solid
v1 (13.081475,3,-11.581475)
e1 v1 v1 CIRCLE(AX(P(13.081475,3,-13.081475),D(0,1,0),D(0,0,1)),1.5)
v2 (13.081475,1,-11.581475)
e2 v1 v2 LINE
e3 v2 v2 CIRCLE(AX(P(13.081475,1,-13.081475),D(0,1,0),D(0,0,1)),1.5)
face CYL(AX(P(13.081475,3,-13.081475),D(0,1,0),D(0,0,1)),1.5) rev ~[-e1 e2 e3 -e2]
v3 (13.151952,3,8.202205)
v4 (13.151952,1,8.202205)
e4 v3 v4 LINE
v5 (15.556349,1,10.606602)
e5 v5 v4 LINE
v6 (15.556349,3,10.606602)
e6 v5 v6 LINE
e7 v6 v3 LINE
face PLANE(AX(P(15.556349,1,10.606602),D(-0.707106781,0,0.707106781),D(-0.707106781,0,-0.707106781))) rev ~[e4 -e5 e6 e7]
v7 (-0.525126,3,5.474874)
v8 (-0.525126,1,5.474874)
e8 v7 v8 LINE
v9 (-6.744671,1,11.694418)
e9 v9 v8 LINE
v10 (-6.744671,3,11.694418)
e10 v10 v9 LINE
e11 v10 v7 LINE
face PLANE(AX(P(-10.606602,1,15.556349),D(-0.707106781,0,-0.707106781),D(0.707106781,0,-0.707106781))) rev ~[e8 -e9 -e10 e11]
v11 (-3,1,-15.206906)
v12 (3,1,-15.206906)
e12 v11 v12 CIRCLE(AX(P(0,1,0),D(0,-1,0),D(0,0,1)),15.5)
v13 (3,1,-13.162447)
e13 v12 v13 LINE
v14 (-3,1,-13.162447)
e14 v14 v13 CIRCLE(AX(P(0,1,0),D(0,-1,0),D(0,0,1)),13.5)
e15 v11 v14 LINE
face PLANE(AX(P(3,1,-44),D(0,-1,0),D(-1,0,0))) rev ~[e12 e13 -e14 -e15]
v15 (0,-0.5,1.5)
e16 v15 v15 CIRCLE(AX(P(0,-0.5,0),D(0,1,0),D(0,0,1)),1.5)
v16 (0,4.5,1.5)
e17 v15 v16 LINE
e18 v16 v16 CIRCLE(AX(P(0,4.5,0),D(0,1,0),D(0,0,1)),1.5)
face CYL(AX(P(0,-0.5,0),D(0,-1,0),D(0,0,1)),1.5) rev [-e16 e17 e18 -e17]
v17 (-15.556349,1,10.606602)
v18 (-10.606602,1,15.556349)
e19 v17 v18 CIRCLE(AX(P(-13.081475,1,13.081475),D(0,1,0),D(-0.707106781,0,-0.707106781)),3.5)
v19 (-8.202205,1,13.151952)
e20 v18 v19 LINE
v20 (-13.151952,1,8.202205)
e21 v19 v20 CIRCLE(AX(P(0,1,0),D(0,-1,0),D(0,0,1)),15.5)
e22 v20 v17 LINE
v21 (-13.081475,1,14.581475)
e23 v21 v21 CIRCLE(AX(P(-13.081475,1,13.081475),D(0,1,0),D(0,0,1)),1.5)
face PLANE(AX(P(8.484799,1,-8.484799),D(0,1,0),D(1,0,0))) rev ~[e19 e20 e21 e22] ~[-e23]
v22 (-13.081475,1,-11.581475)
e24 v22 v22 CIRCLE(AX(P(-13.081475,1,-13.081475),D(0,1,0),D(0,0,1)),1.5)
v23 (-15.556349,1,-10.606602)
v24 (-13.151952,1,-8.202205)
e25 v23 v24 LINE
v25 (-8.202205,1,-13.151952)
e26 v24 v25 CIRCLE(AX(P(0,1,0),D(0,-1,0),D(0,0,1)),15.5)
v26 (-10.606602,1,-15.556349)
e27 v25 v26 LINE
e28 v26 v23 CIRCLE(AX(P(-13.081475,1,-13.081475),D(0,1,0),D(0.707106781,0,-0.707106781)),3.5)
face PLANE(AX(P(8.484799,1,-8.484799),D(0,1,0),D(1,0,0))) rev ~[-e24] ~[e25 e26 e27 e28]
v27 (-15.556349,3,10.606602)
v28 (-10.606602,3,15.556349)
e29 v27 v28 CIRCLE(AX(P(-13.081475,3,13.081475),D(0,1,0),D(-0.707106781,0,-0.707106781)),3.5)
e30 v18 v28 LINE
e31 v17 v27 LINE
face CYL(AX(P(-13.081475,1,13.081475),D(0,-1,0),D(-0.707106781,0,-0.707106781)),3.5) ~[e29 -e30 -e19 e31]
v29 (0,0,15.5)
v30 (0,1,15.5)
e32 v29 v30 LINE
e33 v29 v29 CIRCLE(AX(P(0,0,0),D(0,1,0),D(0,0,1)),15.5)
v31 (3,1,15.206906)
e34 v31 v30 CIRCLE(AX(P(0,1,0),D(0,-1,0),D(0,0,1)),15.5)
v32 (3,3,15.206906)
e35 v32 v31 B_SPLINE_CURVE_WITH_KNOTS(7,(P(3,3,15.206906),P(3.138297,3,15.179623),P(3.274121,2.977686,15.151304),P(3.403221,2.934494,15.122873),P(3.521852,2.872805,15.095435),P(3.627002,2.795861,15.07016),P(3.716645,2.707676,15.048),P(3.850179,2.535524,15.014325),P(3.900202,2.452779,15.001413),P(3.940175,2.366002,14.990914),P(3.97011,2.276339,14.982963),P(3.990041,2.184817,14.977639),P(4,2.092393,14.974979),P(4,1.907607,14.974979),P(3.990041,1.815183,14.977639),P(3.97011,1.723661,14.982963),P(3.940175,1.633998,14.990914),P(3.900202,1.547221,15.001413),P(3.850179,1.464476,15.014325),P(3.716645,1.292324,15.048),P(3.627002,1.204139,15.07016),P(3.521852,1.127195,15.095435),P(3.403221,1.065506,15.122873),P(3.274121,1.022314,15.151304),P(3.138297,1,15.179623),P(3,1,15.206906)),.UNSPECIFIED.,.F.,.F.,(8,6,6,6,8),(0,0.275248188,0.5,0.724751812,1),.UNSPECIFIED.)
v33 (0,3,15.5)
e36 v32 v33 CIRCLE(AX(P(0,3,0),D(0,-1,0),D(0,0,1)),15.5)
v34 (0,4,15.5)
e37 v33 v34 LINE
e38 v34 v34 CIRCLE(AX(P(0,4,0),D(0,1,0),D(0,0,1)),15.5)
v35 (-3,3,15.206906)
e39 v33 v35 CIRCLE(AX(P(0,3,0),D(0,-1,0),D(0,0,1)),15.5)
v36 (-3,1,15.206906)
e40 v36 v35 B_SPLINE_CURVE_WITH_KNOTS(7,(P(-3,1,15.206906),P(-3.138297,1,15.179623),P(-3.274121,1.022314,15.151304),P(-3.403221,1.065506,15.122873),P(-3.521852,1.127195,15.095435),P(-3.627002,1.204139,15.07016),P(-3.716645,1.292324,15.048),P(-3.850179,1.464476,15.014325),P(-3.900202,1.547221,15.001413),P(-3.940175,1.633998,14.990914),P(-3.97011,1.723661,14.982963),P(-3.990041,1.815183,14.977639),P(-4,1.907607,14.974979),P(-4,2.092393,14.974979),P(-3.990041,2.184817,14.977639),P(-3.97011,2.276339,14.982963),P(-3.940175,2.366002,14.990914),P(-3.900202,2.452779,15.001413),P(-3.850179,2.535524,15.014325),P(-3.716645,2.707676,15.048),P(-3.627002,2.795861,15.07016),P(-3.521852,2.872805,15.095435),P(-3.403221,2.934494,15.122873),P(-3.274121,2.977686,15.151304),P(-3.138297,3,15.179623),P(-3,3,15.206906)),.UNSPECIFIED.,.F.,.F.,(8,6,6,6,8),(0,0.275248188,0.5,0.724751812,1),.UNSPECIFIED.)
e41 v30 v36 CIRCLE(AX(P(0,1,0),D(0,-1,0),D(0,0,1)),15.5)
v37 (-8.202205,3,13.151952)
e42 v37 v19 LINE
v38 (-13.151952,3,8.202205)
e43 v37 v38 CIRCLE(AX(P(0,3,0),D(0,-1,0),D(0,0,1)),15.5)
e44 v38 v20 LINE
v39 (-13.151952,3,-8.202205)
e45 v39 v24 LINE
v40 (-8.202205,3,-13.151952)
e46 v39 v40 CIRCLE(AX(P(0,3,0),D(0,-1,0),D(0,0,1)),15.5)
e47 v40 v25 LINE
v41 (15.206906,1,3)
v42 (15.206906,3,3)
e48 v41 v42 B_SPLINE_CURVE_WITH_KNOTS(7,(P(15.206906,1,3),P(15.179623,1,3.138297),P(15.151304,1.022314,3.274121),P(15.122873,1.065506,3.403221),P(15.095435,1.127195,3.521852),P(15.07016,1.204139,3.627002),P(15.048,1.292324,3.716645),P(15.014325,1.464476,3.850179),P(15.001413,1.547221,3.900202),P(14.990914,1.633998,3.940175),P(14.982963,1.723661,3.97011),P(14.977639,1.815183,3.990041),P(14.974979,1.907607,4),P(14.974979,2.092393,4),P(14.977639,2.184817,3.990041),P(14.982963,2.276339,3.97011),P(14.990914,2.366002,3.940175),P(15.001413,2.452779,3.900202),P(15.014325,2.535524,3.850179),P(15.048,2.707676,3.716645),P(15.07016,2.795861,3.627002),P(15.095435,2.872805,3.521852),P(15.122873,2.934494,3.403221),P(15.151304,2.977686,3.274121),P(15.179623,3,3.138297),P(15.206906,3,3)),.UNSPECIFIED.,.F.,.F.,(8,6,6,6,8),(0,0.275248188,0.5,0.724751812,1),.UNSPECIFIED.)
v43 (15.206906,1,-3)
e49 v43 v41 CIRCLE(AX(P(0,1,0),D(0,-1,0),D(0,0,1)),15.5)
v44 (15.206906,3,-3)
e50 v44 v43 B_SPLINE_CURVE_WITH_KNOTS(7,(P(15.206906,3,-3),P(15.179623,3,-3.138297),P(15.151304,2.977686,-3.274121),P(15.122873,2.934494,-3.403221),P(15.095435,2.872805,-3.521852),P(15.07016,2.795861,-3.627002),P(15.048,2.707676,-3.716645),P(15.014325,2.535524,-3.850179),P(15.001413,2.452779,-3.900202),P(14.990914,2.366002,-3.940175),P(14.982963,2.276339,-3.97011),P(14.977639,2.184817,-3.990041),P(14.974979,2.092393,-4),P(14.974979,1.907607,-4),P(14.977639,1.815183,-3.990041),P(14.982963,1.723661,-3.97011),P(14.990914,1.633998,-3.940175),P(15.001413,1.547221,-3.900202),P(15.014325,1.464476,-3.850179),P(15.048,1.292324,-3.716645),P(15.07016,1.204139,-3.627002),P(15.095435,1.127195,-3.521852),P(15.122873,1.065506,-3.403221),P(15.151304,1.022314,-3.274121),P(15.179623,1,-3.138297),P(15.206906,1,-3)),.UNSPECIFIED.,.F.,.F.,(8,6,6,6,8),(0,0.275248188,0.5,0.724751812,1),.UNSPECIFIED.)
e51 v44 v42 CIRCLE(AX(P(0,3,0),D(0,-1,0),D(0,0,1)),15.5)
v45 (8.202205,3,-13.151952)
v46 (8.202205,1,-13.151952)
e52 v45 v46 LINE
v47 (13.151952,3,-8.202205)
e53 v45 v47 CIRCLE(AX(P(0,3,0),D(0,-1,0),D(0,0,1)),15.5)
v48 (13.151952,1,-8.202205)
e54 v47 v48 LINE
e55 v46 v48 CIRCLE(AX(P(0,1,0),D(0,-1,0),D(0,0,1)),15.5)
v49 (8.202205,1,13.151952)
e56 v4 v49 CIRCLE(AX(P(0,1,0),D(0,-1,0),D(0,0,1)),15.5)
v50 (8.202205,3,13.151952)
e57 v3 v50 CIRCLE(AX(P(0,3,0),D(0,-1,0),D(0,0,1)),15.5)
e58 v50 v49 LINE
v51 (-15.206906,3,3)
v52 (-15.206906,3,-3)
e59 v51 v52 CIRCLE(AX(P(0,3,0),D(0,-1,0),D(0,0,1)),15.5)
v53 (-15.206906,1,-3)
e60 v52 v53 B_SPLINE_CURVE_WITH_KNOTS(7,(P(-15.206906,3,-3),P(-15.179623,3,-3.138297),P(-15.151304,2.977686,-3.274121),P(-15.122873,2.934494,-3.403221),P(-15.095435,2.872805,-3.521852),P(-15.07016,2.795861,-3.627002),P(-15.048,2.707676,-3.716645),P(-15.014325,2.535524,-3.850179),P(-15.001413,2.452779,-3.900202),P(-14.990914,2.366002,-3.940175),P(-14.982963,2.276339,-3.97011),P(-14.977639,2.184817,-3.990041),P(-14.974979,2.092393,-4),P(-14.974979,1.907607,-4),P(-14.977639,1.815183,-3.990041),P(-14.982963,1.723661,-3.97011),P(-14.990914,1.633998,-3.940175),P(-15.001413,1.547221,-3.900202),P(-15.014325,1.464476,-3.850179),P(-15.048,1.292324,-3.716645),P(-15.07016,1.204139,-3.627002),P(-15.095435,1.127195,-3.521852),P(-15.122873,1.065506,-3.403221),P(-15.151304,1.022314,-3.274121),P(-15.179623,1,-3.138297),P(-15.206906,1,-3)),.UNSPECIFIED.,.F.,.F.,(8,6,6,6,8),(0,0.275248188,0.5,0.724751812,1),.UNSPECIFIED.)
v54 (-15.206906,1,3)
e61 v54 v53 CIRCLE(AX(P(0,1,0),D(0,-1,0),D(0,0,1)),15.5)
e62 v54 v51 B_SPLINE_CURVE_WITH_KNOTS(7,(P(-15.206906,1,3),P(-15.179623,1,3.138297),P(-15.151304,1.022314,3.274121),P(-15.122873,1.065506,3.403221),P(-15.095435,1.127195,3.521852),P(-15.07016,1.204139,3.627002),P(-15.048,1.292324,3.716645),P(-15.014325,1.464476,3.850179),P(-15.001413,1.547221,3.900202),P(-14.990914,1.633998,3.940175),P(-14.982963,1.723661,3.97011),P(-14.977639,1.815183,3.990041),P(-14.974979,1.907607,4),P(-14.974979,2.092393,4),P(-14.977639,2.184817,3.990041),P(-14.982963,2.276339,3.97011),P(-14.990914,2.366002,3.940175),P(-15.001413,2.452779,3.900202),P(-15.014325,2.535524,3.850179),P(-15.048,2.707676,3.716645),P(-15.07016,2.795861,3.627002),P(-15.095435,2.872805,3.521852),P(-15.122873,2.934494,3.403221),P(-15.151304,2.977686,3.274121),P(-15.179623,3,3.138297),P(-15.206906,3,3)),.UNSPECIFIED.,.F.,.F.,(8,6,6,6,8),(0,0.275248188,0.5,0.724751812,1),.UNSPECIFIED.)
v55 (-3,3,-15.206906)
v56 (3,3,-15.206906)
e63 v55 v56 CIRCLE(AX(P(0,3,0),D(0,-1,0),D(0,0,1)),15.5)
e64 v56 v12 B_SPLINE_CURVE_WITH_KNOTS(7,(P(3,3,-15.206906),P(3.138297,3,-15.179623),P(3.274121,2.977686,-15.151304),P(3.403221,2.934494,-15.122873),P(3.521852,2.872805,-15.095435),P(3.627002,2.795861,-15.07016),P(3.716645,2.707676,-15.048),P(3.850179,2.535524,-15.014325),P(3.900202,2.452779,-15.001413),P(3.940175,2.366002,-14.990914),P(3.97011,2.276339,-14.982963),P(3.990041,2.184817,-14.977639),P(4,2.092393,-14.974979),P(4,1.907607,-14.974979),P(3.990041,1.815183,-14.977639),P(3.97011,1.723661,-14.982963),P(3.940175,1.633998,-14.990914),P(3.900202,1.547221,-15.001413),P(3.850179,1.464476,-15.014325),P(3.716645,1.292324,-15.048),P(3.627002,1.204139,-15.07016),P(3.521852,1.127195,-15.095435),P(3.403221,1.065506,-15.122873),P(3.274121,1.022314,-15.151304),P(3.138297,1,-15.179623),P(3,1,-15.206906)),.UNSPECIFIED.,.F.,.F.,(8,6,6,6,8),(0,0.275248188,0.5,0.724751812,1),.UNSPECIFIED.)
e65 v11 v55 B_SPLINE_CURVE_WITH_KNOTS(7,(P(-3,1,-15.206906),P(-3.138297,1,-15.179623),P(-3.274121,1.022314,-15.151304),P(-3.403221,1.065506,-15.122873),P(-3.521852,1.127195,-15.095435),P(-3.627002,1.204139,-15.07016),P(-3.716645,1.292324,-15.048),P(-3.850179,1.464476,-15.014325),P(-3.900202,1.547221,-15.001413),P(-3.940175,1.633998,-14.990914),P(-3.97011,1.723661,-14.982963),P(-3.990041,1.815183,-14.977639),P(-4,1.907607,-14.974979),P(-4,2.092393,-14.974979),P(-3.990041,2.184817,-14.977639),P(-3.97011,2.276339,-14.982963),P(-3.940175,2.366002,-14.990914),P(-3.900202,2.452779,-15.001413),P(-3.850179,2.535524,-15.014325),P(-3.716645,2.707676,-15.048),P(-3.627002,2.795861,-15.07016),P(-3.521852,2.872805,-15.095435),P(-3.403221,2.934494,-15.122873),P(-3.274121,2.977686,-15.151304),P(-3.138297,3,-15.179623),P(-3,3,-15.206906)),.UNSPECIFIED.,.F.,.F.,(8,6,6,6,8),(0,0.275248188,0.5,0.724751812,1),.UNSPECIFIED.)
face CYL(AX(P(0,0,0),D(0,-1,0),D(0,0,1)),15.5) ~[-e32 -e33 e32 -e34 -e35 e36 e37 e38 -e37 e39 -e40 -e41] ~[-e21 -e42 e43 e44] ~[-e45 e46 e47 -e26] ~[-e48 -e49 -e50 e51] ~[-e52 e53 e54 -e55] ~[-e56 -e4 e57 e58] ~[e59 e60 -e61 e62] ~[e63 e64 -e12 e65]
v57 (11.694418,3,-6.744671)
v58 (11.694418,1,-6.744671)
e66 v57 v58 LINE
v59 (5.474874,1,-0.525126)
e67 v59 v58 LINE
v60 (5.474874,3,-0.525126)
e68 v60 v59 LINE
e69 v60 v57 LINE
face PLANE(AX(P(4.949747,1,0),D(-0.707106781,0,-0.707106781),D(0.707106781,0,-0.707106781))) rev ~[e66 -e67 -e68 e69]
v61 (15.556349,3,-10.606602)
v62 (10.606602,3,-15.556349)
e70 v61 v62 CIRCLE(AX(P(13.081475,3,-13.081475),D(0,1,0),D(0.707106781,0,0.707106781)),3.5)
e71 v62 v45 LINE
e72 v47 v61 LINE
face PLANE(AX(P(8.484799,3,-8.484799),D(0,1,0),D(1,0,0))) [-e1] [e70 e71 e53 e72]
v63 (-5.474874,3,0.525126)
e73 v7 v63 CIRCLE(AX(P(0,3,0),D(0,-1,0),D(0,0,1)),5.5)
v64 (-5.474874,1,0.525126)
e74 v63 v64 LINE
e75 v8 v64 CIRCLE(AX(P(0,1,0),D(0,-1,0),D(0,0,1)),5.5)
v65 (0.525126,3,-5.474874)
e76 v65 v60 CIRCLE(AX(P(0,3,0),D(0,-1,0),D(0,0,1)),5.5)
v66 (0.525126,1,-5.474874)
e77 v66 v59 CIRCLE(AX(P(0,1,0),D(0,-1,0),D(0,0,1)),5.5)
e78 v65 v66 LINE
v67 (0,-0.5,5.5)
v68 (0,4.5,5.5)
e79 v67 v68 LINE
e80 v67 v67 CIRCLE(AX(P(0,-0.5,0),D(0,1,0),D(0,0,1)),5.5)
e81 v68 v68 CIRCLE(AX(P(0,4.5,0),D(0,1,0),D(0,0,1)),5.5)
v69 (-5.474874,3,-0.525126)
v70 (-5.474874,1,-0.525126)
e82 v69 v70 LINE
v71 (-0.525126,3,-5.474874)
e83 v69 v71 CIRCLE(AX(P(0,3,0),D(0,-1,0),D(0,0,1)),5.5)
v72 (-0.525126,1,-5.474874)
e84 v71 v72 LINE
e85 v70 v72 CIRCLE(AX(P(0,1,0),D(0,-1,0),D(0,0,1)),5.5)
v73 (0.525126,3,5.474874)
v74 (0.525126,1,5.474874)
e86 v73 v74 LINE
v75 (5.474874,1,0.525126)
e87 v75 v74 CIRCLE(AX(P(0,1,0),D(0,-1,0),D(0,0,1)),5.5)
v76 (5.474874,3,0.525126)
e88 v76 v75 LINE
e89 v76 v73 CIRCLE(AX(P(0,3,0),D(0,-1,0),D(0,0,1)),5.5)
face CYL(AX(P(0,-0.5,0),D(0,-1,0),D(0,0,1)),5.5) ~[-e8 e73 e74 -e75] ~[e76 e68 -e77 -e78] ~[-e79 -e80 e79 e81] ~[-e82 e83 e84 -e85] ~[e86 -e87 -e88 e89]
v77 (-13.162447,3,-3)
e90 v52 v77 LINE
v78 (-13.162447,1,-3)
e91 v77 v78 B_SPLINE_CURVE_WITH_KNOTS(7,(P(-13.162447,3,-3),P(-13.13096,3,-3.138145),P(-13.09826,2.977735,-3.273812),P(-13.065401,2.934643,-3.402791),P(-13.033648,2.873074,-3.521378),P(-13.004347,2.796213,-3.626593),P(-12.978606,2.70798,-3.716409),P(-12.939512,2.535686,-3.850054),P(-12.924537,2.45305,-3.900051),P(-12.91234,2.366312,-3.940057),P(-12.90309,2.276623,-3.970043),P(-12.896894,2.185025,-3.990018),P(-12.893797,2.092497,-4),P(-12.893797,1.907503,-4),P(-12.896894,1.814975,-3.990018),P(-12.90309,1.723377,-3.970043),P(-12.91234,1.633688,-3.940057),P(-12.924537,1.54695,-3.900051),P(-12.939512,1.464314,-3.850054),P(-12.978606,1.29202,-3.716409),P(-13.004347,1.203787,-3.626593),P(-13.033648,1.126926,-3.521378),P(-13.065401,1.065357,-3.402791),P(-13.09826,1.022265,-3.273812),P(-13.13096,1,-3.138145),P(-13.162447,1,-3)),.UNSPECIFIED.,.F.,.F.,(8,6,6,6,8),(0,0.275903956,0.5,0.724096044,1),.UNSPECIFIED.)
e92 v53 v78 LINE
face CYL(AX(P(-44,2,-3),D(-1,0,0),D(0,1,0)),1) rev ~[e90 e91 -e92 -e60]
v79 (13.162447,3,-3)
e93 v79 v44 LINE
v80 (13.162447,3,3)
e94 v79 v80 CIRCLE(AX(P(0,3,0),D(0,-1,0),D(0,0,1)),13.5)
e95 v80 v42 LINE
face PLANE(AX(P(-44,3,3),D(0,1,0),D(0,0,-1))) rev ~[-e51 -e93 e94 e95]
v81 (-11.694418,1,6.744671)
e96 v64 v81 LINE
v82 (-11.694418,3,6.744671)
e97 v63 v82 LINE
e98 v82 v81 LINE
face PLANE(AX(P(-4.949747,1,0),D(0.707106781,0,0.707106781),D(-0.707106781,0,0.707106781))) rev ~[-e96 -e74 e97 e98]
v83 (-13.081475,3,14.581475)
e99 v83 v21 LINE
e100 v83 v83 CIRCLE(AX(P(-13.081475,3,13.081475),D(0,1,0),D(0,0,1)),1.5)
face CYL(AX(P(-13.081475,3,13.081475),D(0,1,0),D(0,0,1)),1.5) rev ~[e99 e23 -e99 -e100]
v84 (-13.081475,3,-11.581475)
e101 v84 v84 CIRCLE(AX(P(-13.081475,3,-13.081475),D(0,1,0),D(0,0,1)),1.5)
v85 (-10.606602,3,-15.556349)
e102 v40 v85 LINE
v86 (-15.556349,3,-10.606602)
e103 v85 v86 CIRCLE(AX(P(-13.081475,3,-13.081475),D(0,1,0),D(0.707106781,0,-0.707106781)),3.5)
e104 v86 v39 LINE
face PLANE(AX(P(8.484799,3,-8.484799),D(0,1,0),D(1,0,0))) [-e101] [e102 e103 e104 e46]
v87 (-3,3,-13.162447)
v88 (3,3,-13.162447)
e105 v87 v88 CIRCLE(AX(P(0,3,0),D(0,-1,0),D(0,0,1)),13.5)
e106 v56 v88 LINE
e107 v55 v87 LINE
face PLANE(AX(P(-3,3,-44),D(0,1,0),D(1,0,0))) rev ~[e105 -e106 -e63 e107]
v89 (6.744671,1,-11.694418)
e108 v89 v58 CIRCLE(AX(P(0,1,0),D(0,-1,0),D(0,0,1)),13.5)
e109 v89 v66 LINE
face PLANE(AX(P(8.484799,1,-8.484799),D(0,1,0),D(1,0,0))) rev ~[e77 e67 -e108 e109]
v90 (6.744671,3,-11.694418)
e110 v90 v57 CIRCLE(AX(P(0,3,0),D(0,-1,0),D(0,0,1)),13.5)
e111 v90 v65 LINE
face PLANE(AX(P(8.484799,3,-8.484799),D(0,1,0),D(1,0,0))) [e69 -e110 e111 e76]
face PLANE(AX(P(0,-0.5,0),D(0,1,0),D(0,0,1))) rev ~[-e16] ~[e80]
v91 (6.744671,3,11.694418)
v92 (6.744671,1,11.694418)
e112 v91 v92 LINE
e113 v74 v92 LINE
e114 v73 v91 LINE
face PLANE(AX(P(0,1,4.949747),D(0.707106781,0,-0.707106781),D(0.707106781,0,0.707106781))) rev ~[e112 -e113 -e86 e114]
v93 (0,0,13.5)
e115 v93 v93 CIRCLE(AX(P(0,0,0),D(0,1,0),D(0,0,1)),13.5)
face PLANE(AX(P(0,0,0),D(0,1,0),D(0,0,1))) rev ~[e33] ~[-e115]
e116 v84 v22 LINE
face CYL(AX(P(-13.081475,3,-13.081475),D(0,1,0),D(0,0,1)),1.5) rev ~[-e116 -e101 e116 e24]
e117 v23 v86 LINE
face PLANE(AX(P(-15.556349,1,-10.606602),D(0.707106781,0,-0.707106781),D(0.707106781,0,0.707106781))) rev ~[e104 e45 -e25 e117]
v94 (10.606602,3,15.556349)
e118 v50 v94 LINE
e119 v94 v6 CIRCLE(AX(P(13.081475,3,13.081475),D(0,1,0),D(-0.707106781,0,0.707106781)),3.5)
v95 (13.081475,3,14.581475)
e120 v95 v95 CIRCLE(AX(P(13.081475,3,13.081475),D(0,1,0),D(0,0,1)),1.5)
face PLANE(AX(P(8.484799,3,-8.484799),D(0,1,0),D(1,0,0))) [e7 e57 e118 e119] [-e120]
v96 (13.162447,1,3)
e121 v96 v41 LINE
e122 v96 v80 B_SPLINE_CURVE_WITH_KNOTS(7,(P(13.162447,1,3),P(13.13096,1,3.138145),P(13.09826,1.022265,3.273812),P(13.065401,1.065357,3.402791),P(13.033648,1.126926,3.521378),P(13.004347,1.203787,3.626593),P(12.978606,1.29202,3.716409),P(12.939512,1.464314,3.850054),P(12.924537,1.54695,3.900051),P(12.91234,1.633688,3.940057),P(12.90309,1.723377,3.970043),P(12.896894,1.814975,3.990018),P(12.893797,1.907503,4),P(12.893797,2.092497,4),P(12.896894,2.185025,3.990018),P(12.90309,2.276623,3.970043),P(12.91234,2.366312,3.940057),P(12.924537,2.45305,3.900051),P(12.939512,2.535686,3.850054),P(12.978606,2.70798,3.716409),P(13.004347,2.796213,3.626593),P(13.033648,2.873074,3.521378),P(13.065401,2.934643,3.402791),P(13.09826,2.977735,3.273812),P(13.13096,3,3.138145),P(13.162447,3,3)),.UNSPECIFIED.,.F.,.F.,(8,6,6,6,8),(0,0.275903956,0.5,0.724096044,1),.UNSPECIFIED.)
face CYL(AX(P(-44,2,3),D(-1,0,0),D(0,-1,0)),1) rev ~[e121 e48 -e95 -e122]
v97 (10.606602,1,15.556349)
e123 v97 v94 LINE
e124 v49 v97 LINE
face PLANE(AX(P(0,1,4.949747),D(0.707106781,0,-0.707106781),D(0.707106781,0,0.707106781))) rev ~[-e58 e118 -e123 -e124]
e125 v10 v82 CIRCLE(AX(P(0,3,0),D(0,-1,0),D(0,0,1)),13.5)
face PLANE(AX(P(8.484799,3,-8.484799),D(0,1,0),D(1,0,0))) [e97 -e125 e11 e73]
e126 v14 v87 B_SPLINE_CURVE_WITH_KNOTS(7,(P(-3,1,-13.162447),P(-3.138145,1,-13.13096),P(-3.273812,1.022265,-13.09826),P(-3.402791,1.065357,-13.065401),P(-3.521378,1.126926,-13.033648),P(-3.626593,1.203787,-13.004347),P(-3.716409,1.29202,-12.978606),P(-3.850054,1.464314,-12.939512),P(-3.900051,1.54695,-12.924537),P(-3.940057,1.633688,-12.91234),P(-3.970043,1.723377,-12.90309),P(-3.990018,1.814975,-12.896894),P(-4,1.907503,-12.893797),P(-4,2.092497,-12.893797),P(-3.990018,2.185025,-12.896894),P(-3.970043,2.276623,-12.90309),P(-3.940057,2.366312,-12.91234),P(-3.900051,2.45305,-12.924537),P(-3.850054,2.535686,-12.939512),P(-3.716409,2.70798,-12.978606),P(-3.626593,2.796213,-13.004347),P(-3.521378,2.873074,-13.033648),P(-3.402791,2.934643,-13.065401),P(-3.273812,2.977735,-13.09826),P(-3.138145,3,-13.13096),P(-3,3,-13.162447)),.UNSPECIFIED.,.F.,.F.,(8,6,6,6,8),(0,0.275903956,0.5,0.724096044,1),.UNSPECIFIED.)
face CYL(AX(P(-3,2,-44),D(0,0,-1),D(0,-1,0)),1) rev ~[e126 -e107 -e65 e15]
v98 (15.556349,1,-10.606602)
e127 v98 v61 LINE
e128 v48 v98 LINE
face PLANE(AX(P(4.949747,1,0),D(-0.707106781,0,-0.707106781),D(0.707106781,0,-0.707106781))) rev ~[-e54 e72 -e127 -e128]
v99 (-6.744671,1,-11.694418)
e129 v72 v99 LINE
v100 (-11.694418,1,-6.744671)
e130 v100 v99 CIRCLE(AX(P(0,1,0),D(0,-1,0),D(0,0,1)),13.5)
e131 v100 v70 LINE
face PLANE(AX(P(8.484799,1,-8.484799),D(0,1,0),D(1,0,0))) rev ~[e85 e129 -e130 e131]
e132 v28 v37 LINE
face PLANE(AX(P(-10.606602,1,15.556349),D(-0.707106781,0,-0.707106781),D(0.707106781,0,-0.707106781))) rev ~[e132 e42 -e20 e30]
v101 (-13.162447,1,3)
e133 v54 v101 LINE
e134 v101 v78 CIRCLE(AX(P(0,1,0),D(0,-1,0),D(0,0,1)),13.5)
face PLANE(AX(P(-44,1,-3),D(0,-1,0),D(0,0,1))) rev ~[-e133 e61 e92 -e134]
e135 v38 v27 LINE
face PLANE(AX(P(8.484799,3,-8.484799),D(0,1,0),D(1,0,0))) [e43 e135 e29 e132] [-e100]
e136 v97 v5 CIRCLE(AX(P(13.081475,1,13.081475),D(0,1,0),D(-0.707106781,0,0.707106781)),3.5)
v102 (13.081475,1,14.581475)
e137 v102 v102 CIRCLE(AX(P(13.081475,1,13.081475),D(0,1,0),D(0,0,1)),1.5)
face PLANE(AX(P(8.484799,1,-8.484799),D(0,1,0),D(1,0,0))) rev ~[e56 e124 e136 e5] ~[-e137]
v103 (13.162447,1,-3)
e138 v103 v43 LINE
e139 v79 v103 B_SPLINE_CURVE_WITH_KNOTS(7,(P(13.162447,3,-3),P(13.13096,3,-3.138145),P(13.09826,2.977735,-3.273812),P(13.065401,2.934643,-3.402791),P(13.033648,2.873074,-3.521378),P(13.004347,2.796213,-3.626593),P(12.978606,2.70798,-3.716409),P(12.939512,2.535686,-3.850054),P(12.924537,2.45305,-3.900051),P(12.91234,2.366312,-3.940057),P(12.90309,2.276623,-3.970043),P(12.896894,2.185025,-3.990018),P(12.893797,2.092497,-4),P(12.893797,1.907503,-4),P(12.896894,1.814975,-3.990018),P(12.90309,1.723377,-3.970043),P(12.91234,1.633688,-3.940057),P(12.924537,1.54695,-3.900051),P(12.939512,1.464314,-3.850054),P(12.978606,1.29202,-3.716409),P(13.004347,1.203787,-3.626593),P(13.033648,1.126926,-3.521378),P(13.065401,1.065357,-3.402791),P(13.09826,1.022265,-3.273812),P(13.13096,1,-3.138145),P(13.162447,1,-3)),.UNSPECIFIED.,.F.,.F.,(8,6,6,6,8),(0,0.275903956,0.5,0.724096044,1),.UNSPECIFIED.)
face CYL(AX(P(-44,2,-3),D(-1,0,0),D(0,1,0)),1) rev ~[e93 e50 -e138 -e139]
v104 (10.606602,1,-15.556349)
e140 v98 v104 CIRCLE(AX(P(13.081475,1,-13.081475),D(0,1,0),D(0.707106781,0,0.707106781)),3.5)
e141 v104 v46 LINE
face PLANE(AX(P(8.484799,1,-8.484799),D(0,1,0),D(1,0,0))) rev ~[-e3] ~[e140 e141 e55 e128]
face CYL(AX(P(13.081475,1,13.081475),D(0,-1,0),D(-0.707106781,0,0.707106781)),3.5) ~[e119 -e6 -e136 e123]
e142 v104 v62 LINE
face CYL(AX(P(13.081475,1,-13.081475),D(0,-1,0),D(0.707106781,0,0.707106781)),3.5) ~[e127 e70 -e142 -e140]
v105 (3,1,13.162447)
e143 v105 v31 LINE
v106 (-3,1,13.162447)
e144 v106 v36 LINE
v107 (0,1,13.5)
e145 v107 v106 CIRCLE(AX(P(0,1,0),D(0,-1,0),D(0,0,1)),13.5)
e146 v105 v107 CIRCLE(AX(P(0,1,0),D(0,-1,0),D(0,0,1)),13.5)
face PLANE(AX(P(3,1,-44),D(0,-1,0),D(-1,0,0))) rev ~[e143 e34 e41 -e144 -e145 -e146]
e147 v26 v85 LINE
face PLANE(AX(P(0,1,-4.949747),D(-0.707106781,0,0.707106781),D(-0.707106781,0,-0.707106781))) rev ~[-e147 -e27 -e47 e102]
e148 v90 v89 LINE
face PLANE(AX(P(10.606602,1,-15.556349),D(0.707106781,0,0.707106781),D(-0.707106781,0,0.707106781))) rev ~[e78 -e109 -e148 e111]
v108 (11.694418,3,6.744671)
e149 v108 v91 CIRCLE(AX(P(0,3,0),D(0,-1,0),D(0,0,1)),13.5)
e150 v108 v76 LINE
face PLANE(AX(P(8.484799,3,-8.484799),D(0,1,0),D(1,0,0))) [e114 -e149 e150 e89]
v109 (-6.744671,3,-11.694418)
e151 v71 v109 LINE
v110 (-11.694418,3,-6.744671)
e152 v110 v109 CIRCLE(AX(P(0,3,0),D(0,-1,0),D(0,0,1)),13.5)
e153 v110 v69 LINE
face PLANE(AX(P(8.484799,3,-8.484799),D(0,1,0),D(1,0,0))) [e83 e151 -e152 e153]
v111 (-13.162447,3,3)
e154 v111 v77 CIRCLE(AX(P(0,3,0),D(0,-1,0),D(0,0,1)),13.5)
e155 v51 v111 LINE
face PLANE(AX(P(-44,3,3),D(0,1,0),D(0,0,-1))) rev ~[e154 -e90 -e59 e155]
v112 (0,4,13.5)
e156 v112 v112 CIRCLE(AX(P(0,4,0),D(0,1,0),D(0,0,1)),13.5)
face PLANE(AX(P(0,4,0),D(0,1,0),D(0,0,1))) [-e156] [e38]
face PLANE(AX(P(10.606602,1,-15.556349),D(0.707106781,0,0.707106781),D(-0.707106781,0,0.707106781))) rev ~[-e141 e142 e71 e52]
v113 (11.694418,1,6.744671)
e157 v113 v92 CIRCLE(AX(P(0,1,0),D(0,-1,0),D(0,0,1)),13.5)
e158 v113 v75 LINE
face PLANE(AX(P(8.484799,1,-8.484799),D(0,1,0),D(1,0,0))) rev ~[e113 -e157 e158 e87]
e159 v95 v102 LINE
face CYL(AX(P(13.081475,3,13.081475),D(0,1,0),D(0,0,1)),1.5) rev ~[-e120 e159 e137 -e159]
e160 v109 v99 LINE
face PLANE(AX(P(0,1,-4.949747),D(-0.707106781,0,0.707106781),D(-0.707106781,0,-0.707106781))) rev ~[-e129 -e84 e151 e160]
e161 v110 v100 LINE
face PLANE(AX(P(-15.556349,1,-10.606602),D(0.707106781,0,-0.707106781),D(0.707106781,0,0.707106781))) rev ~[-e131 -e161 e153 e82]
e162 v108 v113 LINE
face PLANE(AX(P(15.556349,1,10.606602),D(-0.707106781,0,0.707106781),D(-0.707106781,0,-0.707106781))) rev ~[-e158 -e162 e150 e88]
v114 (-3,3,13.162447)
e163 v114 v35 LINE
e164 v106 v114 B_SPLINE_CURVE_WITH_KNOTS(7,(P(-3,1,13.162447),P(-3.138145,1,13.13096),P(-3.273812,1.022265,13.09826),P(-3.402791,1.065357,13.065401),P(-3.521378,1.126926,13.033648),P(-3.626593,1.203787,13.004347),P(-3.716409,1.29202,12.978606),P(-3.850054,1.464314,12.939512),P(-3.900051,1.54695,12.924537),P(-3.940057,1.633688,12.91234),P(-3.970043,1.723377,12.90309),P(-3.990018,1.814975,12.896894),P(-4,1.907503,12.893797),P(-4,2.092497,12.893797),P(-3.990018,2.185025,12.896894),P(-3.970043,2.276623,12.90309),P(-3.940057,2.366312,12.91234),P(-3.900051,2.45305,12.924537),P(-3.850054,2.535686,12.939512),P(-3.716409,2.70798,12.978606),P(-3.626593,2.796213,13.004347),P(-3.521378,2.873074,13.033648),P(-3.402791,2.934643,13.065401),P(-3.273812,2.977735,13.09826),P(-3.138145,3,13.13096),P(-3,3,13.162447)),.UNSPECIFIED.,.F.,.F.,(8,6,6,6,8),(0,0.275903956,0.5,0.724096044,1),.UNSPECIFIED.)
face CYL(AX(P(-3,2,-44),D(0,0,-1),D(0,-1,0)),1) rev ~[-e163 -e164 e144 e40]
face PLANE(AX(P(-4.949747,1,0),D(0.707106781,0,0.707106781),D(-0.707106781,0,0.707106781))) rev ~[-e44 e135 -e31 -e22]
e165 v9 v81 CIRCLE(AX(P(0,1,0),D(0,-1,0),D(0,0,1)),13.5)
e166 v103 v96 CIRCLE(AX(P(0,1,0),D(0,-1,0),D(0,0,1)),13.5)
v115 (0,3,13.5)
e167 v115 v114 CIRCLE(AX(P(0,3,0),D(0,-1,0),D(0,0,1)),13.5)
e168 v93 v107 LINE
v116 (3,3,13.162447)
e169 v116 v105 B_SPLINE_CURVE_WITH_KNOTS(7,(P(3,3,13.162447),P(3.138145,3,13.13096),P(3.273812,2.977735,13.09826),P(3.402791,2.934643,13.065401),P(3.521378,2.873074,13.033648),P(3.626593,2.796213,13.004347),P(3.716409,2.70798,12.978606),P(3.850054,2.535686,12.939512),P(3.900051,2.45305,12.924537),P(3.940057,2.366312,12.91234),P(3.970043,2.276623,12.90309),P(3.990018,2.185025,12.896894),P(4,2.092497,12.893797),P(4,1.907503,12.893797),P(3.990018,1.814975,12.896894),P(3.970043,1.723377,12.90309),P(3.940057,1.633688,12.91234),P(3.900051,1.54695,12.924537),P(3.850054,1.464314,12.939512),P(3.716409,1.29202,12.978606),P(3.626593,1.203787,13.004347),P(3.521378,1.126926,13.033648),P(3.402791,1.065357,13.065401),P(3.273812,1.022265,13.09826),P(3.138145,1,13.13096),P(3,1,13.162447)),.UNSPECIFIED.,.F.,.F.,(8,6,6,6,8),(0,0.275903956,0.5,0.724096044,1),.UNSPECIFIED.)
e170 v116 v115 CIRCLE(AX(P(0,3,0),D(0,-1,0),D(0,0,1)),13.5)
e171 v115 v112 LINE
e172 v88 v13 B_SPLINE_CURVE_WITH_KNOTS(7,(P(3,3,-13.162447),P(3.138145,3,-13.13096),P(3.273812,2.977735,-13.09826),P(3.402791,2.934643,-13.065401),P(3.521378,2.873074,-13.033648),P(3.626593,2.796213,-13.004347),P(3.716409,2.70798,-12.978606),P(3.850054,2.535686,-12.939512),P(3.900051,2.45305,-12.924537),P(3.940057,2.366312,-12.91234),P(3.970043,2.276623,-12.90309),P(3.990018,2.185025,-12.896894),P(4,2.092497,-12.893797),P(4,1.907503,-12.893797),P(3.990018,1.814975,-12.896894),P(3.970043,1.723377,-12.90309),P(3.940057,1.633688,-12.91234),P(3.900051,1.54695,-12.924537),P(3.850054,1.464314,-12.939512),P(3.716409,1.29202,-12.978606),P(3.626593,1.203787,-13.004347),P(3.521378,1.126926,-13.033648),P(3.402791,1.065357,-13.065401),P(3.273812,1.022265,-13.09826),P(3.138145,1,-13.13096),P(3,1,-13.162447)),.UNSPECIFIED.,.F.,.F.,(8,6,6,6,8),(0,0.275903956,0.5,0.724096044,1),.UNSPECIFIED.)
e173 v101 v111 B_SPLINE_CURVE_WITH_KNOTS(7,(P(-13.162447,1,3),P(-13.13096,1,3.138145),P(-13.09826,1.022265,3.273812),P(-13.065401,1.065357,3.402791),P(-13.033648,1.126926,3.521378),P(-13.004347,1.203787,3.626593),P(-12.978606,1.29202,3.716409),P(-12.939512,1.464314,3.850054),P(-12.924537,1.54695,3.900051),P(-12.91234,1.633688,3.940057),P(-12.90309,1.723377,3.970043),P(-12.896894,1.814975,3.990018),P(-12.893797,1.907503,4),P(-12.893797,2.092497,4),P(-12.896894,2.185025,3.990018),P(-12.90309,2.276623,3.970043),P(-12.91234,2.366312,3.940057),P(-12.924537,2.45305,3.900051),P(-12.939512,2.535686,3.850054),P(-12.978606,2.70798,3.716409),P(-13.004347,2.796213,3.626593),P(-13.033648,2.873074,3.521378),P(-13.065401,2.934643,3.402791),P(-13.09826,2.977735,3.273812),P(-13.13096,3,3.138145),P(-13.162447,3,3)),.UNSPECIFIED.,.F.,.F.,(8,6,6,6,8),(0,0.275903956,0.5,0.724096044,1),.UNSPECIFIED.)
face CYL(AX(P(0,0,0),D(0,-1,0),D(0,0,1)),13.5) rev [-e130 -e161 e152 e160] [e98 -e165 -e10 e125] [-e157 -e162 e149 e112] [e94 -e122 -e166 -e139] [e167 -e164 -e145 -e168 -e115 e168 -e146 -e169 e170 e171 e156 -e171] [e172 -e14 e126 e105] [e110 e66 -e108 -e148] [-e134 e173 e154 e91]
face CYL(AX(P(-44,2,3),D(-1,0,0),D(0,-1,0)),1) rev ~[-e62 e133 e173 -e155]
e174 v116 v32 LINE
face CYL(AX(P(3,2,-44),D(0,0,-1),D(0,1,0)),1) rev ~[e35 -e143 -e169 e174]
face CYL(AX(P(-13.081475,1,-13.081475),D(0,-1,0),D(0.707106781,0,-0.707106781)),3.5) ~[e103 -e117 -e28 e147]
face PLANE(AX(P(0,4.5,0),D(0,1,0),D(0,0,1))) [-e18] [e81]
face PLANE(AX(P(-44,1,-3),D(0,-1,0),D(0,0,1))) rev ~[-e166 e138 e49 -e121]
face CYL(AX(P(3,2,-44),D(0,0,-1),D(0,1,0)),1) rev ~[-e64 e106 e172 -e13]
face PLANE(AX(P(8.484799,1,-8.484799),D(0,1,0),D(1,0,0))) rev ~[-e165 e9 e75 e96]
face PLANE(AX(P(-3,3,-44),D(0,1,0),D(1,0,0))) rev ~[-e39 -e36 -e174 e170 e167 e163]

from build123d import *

# Parameters (mm, degrees)
SKETCH1_R                = 15.5
SKETCH1_R_2              = 13.5
BOSS_EXTRUDE1_DEPTH      = 4
CUT_EXTRUDE1_DEPTH       = 44
CUT_EXTRUDE1_DEPTH_BACK  = 44
CUT_EXTRUDE2_DEPTH       = 44
CUT_EXTRUDE2_DEPTH_BACK  = 44
BOSS_EXTRUDE2_DEPTH      = 1
BOSS_EXTRUDE2_DEPTH_BACK = 1
SKETCH5_R                = 1.5
CUT_EXTRUDE3_DEPTH       = 3
BOSS_EXTRUDE3_DEPTH      = 1.5
BOSS_EXTRUDE3_DEPTH_BACK = 3.5
SKETCH6_R                = 5.5
SKETCH6_R_2              = 1.5
SKETCH7_R                = 1.5
CUT_EXTRUDE4_DEPTH       = 11.5


with BuildPart() as part:
    # Sketch1 → Boss-Extrude1 (new body)
    with BuildSketch(Plane(origin=(0, 0, 0), x_dir=(1, 0, 0), z_dir=(0, 1, 0))):
        Circle(SKETCH1_R)
        Circle(SKETCH1_R_2, mode=Mode.SUBTRACT)
    extrude(amount=BOSS_EXTRUDE1_DEPTH)

    # Sketch2 → Cut-Extrude1 (cut, two sides: drawn at the far end of the back side and taken through both)
    with BuildSketch(Plane.XY.offset(-CUT_EXTRUDE1_DEPTH_BACK)):
        with BuildLine():
            Line((-3, 3), (3, 3))
            ThreePointArc((3, 3), (4, 2), (3, 1))
            Line((3, 1), (-3, 1))
            ThreePointArc((-3, 1), (-4, 2), (-3, 3))
        make_face()
    extrude(amount=CUT_EXTRUDE1_DEPTH + CUT_EXTRUDE1_DEPTH_BACK, mode=Mode.SUBTRACT)

    # Sketch3 → Cut-Extrude2 (cut, two sides: drawn at the far end of the back side and taken through both)
    with BuildSketch(Plane(origin=(0, 0, 0), x_dir=(0, 0, -1), z_dir=(1, 0, 0)).offset(-CUT_EXTRUDE2_DEPTH_BACK)):
        with BuildLine():
            Line((-3, 3), (3, 3))
            ThreePointArc((3, 3), (4, 2), (3, 1))
            Line((3, 1), (-3, 1))
            ThreePointArc((-3, 1), (-4, 2), (-3, 3))
        make_face()
    extrude(amount=CUT_EXTRUDE2_DEPTH + CUT_EXTRUDE2_DEPTH_BACK, mode=Mode.SUBTRACT)

    # Sketch4 → Boss-Extrude2 (add, two sides: drawn at the far end of the back side and taken through both)
    with BuildSketch(Plane(origin=(0, 2, 0), x_dir=(1, 0, 0), z_dir=(0, 1, 0)).offset(-BOSS_EXTRUDE2_DEPTH_BACK)):
        with BuildLine():
            Line((0, 4.949747468), (-10.606601718, 15.556349186))
            ThreePointArc((-10.606601718, 15.556349186), (-15.556349186, 15.556349186), (-15.556349186, 10.606601718))
            Line((-15.556349186, 10.606601718), (-4.949747468, 0))
            Line((-4.949747468, 0), (-15.556349186, -10.606601718))
            ThreePointArc((-15.556349186, -10.606601718), (-15.556349186, -15.556349186), (-10.606601718, -15.556349186))
            Line((-10.606601718, -15.556349186), (0, -4.949747468))
            Line((0, -4.949747468), (10.606601718, -15.556349186))
            ThreePointArc((10.606601718, -15.556349186), (15.556349186, -15.556349186), (15.556349186, -10.606601718))
            Line((15.556349186, -10.606601718), (4.949747468, 0))
            Line((4.949747468, 0), (15.556349186, 10.606601718))
            ThreePointArc((15.556349186, 10.606601718), (15.556349186, 15.556349186), (10.606601718, 15.556349186))
            Line((10.606601718, 15.556349186), (0, 4.949747468))
        make_face()
    extrude(amount=BOSS_EXTRUDE2_DEPTH + BOSS_EXTRUDE2_DEPTH_BACK)

    # Sketch5 → Cut-Extrude3 (cut)
    with BuildSketch(Plane(origin=(0, 3, 0), x_dir=(1, 0, 0), z_dir=(0, 1, 0))):
        Circle(SKETCH5_R)
    extrude(amount=-CUT_EXTRUDE3_DEPTH, mode=Mode.SUBTRACT)

    # Sketch6 → Boss-Extrude3 (add, two sides: drawn at the far end of the back side and taken through both)
    with BuildSketch(Plane(origin=(0, 3, 0), x_dir=(1, 0, 0), z_dir=(0, 1, 0)).offset(-BOSS_EXTRUDE3_DEPTH_BACK)):
        Circle(SKETCH6_R)
        Circle(SKETCH6_R_2, mode=Mode.SUBTRACT)
    extrude(amount=BOSS_EXTRUDE3_DEPTH + BOSS_EXTRUDE3_DEPTH_BACK)

    # Sketch7 → Cut-Extrude4 (cut)
    with BuildSketch(Plane(origin=(0, 3, 0), x_dir=(1, 0, 0), z_dir=(0, 1, 0))):
        with Locations((-13.081475452, 13.081475452)):
            Circle(SKETCH7_R)
        with Locations((13.081475452, 13.081475452)):
            Circle(SKETCH7_R)
        with Locations((13.081475452, -13.081475452)):
            Circle(SKETCH7_R)
        with Locations((-13.081475452, -13.081475452)):
            Circle(SKETCH7_R)
    extrude(amount=-CUT_EXTRUDE4_DEPTH, mode=Mode.SUBTRACT)


solid = part.part
